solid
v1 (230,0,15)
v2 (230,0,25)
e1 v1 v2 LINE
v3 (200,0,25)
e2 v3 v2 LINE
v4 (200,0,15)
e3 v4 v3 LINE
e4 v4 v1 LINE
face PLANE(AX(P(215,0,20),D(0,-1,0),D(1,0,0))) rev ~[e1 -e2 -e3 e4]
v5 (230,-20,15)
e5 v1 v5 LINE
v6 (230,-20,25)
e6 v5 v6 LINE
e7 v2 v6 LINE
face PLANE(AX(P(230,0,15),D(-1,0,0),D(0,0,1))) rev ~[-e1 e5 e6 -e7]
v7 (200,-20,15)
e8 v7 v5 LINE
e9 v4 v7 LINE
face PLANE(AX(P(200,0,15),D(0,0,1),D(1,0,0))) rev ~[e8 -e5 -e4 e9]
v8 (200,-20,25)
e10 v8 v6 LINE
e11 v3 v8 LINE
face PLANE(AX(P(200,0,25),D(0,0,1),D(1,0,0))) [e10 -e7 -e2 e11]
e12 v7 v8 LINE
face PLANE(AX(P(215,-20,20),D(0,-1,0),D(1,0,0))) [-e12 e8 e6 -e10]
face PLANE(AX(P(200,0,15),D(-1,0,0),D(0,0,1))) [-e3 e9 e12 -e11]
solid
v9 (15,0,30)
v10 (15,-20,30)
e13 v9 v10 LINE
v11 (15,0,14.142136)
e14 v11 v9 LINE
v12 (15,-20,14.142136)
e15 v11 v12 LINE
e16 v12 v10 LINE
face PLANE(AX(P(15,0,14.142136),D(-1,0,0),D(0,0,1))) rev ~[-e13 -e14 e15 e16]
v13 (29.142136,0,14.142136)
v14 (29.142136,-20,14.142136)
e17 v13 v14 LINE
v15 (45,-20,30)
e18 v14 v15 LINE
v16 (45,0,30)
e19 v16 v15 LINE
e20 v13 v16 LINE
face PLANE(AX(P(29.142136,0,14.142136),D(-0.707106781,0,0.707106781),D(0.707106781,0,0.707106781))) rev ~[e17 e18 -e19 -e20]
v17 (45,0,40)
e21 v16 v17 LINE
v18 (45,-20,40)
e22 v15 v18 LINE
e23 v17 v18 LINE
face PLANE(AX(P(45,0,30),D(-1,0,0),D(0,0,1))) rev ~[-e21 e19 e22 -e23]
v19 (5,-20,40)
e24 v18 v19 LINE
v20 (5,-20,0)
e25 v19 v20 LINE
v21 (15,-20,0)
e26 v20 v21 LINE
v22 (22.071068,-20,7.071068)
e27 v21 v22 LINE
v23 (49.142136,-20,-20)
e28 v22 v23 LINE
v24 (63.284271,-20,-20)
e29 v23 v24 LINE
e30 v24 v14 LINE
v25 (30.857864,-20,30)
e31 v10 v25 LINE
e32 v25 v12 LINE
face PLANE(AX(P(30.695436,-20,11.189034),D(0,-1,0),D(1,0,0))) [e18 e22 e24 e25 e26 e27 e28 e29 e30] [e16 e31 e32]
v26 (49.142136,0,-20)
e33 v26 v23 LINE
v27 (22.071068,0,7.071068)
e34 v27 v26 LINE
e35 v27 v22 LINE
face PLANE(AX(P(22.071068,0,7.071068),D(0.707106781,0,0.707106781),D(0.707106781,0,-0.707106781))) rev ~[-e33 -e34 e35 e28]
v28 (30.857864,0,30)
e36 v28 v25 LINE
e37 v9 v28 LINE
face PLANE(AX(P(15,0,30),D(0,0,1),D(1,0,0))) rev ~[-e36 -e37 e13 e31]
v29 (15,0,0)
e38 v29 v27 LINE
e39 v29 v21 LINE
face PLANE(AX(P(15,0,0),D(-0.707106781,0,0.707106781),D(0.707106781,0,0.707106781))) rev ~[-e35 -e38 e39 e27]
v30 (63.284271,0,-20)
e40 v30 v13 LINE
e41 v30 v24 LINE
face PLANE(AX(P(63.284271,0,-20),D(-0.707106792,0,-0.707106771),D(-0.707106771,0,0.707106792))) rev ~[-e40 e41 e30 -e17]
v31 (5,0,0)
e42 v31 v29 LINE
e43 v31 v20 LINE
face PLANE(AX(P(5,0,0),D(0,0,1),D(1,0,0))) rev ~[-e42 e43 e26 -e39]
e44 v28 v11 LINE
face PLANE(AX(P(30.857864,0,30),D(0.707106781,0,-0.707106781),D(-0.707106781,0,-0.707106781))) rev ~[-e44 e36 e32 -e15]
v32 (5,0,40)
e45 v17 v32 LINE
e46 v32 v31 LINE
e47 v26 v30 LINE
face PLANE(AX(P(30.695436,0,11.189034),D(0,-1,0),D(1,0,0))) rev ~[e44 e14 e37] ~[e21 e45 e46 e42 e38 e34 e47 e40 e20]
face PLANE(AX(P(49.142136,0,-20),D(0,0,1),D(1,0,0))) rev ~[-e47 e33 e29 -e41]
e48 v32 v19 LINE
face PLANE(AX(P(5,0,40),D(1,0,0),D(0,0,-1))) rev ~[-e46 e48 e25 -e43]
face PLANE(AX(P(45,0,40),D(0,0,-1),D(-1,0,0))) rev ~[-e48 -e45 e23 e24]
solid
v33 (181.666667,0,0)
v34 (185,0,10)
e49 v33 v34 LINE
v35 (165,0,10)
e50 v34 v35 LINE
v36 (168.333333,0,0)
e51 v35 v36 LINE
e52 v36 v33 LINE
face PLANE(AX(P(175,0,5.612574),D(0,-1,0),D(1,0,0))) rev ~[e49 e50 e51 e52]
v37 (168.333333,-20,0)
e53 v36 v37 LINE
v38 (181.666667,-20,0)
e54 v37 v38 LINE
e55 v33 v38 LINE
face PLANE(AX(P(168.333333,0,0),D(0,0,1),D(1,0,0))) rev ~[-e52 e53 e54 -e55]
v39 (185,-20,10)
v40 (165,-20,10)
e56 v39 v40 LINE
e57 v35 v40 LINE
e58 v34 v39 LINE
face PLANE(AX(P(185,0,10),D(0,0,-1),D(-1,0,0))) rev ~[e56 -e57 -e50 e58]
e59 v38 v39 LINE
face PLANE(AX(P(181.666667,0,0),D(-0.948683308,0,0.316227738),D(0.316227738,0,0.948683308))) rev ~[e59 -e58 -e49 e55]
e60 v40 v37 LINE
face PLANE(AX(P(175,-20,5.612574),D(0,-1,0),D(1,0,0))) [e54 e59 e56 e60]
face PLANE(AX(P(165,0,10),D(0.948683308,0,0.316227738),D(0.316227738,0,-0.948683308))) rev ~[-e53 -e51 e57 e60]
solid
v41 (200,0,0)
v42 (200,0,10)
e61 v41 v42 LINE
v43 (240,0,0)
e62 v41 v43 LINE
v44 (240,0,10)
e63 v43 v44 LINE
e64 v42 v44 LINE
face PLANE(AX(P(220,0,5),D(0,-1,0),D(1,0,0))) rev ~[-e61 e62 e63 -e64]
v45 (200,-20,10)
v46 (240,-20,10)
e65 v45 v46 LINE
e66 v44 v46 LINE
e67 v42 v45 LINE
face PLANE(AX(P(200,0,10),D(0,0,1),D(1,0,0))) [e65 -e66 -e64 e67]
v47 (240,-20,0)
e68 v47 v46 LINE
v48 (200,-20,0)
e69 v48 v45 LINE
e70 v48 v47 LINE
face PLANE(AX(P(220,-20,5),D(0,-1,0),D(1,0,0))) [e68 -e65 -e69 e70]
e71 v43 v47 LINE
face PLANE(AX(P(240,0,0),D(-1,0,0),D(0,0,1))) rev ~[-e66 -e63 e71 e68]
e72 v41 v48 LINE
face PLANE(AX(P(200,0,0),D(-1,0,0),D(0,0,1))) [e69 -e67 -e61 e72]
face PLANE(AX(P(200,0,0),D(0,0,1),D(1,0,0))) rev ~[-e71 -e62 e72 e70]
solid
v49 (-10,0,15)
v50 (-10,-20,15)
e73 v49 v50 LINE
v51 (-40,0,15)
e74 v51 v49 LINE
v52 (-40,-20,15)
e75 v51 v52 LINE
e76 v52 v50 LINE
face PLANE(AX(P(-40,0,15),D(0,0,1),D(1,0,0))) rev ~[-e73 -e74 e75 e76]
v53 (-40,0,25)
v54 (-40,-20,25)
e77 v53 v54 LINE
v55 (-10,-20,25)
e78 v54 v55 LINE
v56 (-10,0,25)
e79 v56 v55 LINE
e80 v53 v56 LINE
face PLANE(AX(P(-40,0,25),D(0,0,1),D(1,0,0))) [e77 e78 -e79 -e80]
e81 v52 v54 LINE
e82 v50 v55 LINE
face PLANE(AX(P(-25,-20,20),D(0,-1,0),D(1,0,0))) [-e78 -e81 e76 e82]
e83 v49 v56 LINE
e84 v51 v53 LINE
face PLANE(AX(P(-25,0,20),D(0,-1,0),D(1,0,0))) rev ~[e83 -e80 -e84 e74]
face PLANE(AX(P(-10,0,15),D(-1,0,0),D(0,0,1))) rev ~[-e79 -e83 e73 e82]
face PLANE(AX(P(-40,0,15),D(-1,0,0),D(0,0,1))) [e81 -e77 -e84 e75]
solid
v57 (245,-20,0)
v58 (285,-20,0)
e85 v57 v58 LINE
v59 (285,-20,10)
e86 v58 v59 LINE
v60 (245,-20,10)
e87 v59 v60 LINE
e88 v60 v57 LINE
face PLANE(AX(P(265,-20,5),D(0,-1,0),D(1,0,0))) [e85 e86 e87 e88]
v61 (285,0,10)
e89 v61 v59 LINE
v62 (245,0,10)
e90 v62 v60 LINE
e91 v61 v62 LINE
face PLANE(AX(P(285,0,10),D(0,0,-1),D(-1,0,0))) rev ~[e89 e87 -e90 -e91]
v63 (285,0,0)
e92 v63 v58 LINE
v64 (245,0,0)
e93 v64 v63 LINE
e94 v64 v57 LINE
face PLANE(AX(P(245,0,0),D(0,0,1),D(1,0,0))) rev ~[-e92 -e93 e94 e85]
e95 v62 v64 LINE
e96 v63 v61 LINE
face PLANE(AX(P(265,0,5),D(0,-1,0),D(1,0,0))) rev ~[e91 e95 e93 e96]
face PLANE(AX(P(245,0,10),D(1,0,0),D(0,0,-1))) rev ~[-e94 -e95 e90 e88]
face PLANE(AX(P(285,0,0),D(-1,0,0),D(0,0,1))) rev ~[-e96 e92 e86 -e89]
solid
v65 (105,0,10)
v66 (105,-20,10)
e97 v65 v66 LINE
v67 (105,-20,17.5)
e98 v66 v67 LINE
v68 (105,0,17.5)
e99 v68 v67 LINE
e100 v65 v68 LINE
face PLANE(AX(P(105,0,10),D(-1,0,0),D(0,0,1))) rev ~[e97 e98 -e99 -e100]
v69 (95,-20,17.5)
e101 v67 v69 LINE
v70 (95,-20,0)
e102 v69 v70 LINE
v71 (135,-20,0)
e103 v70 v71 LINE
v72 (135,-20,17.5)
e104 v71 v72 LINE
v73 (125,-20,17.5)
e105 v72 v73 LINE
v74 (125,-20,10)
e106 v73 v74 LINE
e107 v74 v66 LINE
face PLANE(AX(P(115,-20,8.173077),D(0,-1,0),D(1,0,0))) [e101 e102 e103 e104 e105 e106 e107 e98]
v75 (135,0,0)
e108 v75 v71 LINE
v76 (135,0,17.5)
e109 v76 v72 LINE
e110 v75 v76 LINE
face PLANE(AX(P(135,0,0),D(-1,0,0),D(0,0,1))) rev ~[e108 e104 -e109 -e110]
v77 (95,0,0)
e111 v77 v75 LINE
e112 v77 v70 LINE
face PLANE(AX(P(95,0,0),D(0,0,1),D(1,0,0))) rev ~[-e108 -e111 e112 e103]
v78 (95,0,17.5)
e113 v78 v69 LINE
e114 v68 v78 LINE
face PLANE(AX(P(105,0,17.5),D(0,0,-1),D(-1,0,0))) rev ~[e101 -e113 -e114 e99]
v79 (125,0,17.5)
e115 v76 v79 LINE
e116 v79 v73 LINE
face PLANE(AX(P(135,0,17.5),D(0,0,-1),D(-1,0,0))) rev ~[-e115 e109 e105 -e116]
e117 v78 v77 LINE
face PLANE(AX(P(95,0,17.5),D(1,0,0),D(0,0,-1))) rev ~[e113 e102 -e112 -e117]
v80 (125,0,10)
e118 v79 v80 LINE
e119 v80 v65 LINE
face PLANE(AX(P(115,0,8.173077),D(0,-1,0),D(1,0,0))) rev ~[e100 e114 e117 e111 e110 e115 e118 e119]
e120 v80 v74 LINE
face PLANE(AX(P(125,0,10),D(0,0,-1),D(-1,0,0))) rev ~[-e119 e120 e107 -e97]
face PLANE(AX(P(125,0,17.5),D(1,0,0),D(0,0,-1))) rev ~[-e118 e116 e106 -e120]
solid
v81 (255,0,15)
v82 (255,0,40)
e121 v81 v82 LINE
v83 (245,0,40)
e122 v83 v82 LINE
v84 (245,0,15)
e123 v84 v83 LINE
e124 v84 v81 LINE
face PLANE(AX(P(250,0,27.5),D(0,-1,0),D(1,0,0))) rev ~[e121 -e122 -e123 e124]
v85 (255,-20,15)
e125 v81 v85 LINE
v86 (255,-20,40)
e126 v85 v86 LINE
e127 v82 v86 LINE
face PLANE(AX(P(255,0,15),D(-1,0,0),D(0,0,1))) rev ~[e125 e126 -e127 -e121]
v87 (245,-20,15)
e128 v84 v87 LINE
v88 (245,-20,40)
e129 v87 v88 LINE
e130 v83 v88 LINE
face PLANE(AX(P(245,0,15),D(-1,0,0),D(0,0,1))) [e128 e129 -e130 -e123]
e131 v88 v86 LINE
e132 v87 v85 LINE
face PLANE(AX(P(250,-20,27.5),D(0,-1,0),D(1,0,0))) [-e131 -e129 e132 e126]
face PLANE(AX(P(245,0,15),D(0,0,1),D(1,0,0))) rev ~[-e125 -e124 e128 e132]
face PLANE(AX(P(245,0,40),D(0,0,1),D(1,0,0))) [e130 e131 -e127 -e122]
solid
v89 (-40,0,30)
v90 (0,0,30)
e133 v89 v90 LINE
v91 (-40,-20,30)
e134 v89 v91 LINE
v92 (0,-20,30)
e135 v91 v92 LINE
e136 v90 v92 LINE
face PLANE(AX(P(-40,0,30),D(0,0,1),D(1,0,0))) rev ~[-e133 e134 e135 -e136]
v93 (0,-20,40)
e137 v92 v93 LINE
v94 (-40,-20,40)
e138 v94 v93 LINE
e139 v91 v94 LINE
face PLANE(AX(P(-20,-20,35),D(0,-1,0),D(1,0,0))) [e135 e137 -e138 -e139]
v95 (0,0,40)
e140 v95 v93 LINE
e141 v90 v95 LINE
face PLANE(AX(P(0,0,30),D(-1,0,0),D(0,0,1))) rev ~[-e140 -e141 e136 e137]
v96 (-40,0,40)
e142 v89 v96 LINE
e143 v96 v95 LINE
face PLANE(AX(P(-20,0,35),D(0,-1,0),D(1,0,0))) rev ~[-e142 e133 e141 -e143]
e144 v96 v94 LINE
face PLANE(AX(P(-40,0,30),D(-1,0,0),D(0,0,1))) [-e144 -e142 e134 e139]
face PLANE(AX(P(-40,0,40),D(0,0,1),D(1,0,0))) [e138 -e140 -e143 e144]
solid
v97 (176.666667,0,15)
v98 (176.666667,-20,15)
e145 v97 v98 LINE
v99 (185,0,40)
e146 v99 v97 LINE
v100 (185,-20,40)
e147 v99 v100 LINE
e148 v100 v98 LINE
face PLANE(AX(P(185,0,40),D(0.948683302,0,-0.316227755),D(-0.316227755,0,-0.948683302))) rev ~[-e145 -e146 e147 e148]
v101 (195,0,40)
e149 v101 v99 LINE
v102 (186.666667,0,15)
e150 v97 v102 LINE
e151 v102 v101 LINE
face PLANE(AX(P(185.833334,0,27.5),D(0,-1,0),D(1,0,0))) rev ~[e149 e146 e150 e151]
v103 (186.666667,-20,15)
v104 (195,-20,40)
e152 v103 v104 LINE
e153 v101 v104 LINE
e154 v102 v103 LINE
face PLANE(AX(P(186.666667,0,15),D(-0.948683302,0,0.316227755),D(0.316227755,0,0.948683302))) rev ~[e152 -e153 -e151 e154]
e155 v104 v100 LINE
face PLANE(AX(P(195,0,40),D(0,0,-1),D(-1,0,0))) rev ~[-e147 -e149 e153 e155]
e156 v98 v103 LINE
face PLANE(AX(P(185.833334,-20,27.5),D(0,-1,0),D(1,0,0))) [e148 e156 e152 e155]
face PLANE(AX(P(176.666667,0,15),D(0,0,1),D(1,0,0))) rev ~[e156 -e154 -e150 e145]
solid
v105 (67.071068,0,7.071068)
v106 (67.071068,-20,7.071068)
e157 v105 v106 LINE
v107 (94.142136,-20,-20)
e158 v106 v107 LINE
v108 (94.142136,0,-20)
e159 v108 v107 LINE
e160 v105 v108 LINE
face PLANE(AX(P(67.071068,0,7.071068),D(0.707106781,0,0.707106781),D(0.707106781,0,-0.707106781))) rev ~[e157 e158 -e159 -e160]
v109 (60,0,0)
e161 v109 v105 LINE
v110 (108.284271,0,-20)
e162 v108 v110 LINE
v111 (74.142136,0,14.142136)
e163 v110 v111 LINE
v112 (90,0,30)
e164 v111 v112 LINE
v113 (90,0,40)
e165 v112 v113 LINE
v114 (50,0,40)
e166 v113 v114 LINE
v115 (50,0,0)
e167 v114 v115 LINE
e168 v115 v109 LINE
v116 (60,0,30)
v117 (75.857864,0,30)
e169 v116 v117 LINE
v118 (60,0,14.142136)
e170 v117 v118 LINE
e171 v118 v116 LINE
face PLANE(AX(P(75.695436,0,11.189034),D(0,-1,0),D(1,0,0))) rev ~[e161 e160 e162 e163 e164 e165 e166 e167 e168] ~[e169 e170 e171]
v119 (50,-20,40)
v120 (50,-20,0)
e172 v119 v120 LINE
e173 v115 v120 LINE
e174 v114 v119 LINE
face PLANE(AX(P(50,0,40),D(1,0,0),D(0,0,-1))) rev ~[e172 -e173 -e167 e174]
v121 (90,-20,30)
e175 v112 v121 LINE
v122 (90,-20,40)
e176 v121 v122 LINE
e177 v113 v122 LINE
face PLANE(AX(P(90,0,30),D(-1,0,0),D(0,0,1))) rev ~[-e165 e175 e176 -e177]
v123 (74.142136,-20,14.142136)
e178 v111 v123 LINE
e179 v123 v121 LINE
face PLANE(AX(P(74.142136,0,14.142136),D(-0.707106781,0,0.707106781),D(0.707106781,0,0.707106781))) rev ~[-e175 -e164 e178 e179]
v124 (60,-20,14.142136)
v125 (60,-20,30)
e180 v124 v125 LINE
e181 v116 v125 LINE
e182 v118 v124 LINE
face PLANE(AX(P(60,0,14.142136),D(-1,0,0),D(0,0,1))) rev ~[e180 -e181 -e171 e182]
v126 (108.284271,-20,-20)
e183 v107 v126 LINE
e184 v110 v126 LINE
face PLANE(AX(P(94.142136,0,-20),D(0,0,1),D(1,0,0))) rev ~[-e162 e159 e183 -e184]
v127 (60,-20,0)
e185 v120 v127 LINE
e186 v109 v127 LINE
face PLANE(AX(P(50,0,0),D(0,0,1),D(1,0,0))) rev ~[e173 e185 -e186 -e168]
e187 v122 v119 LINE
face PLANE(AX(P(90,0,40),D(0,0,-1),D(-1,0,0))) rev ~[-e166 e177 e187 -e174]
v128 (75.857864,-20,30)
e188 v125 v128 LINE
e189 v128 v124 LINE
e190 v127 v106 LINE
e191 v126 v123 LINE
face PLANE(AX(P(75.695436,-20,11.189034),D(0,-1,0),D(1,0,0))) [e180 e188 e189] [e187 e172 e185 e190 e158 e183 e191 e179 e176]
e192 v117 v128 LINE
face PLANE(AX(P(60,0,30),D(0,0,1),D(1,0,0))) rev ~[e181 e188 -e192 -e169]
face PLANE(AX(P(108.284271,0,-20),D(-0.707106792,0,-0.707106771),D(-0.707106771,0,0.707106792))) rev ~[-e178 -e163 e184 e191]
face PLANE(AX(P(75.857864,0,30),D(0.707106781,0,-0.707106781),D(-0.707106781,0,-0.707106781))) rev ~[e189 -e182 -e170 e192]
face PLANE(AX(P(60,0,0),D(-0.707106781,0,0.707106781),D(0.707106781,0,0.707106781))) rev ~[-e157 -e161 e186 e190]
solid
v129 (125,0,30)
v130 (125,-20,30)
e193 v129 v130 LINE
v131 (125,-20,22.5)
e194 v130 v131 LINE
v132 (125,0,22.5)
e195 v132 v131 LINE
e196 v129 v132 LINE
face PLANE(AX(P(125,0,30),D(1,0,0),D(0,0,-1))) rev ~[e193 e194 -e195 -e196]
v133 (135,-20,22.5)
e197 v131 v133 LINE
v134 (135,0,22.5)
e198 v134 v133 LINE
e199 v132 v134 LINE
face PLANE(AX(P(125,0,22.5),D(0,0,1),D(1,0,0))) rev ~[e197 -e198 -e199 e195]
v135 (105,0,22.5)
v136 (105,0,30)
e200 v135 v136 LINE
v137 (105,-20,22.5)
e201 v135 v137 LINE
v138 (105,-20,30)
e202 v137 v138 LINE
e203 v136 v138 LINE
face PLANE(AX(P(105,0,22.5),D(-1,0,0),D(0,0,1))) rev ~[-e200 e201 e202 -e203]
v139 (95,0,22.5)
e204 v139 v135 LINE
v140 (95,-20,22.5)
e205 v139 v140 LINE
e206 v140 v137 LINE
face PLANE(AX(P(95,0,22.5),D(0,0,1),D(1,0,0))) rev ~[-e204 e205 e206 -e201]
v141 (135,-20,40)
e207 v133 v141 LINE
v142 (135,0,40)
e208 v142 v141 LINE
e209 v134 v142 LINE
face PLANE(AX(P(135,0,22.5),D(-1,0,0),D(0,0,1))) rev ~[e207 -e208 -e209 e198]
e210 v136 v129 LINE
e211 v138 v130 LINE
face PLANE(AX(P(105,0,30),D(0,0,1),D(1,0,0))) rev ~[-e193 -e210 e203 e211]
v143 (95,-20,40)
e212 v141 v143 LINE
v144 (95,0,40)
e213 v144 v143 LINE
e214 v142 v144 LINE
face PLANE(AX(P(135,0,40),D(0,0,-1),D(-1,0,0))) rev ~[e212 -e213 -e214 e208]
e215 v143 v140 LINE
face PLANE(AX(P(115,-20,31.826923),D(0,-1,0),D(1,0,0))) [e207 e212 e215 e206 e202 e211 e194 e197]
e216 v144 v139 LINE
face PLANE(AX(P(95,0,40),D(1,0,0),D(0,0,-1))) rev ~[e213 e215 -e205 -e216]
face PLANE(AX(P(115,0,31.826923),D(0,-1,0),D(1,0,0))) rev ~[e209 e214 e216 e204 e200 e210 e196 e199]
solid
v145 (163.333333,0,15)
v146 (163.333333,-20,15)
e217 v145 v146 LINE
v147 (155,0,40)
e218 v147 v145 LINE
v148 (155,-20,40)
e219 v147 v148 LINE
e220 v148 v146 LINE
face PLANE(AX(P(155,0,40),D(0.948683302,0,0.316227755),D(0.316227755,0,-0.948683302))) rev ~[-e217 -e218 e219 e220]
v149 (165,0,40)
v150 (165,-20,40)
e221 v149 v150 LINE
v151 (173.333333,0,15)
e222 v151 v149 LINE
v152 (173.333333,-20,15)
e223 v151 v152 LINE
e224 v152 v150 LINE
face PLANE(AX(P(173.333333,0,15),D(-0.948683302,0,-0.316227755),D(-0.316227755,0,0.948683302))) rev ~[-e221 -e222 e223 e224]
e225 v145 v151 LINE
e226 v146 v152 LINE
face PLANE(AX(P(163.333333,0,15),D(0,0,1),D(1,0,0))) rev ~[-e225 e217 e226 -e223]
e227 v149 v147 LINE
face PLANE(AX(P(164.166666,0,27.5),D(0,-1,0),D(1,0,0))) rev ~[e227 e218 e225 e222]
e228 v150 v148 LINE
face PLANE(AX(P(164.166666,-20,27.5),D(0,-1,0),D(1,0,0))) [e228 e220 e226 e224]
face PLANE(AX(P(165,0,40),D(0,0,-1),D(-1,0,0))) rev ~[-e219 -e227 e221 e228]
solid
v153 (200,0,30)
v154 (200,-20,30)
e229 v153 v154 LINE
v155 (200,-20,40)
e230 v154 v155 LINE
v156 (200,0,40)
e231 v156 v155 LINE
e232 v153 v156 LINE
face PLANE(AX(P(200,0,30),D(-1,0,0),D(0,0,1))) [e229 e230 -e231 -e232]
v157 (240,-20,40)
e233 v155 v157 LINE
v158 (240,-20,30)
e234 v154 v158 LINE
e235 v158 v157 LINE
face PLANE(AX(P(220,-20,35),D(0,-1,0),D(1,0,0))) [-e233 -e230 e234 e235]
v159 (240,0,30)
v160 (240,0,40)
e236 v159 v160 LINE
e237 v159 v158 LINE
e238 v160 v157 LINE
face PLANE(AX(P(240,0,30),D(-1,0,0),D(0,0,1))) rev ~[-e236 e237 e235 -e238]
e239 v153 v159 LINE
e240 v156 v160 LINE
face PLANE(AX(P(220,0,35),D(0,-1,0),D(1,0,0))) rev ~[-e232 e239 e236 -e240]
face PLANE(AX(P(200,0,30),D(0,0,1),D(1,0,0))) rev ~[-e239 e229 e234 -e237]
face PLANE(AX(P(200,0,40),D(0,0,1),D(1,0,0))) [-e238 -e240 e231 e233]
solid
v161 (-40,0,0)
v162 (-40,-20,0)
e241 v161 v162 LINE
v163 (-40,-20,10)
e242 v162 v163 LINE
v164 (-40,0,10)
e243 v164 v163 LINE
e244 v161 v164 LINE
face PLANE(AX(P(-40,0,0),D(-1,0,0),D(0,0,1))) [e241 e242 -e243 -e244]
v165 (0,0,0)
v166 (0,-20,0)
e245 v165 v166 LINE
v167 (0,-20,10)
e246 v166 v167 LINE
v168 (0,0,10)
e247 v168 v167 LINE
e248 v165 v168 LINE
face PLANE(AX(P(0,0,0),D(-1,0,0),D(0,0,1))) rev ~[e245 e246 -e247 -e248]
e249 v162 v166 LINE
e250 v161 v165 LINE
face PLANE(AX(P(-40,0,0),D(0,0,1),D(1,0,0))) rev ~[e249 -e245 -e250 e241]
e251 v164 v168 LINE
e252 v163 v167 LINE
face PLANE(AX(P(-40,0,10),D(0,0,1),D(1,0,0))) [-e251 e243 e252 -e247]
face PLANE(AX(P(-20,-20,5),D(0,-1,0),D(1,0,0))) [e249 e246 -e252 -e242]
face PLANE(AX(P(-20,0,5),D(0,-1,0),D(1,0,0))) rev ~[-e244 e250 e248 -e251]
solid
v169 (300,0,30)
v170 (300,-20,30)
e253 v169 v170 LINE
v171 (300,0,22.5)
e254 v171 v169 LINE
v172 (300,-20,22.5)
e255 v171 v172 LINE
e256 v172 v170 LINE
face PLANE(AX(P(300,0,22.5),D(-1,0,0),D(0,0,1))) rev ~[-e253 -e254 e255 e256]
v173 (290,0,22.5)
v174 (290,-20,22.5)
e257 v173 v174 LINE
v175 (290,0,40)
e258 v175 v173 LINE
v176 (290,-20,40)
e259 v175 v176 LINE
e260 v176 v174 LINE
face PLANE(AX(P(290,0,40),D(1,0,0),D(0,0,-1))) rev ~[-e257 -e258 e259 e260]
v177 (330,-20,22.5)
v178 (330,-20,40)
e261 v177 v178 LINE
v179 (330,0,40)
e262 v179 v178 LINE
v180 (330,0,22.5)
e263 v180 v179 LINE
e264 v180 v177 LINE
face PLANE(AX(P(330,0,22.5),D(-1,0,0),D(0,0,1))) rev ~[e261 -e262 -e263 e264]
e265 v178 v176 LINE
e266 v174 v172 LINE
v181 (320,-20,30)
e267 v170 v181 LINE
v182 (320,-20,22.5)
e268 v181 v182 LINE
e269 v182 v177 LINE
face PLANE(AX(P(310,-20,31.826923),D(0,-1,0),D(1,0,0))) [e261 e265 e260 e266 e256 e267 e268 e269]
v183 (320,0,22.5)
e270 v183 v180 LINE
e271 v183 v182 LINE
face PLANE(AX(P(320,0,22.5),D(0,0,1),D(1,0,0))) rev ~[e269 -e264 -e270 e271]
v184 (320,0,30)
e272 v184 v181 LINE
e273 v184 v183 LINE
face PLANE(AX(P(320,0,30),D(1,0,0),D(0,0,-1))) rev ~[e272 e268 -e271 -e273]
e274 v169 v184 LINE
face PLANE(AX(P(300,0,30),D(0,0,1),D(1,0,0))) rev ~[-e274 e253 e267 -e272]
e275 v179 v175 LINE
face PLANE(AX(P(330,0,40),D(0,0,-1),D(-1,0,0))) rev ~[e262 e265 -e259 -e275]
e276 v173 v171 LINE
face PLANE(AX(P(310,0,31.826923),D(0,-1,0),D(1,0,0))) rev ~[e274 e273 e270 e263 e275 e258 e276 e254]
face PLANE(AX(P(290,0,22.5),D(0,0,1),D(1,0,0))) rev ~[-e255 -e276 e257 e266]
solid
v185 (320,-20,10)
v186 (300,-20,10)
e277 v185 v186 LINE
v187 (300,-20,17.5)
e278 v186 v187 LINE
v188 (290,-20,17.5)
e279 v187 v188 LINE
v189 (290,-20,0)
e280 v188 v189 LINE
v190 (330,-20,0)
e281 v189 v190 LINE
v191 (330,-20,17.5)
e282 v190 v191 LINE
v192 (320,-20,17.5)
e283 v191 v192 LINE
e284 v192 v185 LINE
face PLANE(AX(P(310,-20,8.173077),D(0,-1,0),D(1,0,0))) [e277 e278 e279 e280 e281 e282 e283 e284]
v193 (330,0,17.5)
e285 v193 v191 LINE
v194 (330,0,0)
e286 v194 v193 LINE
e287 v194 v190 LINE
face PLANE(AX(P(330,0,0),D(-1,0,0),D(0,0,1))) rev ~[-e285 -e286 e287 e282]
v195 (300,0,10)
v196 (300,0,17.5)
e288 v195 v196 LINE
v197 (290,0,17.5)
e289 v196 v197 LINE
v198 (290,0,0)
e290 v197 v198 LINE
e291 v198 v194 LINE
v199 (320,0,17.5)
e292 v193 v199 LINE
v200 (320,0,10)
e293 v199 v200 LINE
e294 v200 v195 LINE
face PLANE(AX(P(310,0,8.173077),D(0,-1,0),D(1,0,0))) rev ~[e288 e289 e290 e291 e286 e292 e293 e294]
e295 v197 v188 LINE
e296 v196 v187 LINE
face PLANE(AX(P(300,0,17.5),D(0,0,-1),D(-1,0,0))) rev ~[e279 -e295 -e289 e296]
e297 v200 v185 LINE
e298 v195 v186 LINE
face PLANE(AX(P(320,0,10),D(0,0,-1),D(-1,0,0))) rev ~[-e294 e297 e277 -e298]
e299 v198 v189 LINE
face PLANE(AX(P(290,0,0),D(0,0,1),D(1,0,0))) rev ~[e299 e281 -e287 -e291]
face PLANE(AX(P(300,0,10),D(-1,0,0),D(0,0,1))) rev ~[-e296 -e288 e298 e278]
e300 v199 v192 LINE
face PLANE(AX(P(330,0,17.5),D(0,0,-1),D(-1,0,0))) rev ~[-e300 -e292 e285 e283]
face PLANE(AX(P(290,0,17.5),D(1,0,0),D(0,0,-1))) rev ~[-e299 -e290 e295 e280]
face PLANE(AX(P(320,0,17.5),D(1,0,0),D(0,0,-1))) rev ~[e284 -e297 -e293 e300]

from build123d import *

# Parameters (mm, degrees)
F0_W     = 40
F0_H     = 10
F0_W_2   = 30
F0_W_3   = 10
F0_H_2   = 25
F1_DEPTH = 20


with BuildPart() as f1:
    # F0 (on Front) → F1 (new body)
    with BuildSketch(Plane.XZ):
        with Locations((-20, 35)):
            Rectangle(F0_W, F0_H)
        with Locations((-25, 20)):
            Rectangle(F0_W_2, F0_H)
        with Locations((-20, 5)):
            Rectangle(F0_W, F0_H)
        Polygon((5, 40), (5, 0), (15, 0), (22.071068, 7.071068), (49.142136, -20), (63.284271, -20), (29.142136, 14.142136), (45, 30), (45, 40), align=None)
        Polygon((15, 14.142136), (15, 30), (30.857864, 30), align=None, mode=Mode.SUBTRACT)
        Polygon((50, 40), (50, 0), (60, 0), (67.071068, 7.071068), (94.142136, -20), (108.284271, -20), (74.142136, 14.142136), (90, 30), (90, 40), align=None)
        Polygon((60, 14.142136), (60, 30), (75.857864, 30), align=None, mode=Mode.SUBTRACT)
        Polygon((135, 40), (95, 40), (95, 22.5), (105, 22.5), (105, 30), (125, 30), (125, 22.5), (135, 22.5), align=None)
        Polygon((95, 17.5), (95, 0), (135, 0), (135, 17.5), (125, 17.5), (125, 10), (105, 10), (105, 17.5), align=None)
        Polygon((165, 40), (155, 40), (163.333333, 15), (173.333333, 15), align=None)
        with Locations((220, 35)):
            Rectangle(F0_W, F0_H)
        with Locations((215, 20)):
            Rectangle(F0_W_2, F0_H)
        with Locations((220, 5)):
            Rectangle(F0_W, F0_H)
        with Locations((250, 27.5)):
            Rectangle(F0_W_3, F0_H_2)
        Polygon((330, 40), (290, 40), (290, 22.5), (300, 22.5), (300, 30), (320, 30), (320, 22.5), (330, 22.5), align=None)
        Polygon((290, 17.5), (290, 0), (330, 0), (330, 17.5), (320, 17.5), (320, 10), (300, 10), (300, 17.5), align=None)
        Polygon((186.666667, 15), (195, 40), (185, 40), (176.666667, 15), align=None)
        Polygon((165, 10), (168.333333, 0), (181.666667, 0), (185, 10), align=None)
        Polygon((245, 10), (245, 0), (285, 0), (285, 10), (255, 10), align=None)
    extrude(amount=F1_DEPTH)


solid = f1.part
